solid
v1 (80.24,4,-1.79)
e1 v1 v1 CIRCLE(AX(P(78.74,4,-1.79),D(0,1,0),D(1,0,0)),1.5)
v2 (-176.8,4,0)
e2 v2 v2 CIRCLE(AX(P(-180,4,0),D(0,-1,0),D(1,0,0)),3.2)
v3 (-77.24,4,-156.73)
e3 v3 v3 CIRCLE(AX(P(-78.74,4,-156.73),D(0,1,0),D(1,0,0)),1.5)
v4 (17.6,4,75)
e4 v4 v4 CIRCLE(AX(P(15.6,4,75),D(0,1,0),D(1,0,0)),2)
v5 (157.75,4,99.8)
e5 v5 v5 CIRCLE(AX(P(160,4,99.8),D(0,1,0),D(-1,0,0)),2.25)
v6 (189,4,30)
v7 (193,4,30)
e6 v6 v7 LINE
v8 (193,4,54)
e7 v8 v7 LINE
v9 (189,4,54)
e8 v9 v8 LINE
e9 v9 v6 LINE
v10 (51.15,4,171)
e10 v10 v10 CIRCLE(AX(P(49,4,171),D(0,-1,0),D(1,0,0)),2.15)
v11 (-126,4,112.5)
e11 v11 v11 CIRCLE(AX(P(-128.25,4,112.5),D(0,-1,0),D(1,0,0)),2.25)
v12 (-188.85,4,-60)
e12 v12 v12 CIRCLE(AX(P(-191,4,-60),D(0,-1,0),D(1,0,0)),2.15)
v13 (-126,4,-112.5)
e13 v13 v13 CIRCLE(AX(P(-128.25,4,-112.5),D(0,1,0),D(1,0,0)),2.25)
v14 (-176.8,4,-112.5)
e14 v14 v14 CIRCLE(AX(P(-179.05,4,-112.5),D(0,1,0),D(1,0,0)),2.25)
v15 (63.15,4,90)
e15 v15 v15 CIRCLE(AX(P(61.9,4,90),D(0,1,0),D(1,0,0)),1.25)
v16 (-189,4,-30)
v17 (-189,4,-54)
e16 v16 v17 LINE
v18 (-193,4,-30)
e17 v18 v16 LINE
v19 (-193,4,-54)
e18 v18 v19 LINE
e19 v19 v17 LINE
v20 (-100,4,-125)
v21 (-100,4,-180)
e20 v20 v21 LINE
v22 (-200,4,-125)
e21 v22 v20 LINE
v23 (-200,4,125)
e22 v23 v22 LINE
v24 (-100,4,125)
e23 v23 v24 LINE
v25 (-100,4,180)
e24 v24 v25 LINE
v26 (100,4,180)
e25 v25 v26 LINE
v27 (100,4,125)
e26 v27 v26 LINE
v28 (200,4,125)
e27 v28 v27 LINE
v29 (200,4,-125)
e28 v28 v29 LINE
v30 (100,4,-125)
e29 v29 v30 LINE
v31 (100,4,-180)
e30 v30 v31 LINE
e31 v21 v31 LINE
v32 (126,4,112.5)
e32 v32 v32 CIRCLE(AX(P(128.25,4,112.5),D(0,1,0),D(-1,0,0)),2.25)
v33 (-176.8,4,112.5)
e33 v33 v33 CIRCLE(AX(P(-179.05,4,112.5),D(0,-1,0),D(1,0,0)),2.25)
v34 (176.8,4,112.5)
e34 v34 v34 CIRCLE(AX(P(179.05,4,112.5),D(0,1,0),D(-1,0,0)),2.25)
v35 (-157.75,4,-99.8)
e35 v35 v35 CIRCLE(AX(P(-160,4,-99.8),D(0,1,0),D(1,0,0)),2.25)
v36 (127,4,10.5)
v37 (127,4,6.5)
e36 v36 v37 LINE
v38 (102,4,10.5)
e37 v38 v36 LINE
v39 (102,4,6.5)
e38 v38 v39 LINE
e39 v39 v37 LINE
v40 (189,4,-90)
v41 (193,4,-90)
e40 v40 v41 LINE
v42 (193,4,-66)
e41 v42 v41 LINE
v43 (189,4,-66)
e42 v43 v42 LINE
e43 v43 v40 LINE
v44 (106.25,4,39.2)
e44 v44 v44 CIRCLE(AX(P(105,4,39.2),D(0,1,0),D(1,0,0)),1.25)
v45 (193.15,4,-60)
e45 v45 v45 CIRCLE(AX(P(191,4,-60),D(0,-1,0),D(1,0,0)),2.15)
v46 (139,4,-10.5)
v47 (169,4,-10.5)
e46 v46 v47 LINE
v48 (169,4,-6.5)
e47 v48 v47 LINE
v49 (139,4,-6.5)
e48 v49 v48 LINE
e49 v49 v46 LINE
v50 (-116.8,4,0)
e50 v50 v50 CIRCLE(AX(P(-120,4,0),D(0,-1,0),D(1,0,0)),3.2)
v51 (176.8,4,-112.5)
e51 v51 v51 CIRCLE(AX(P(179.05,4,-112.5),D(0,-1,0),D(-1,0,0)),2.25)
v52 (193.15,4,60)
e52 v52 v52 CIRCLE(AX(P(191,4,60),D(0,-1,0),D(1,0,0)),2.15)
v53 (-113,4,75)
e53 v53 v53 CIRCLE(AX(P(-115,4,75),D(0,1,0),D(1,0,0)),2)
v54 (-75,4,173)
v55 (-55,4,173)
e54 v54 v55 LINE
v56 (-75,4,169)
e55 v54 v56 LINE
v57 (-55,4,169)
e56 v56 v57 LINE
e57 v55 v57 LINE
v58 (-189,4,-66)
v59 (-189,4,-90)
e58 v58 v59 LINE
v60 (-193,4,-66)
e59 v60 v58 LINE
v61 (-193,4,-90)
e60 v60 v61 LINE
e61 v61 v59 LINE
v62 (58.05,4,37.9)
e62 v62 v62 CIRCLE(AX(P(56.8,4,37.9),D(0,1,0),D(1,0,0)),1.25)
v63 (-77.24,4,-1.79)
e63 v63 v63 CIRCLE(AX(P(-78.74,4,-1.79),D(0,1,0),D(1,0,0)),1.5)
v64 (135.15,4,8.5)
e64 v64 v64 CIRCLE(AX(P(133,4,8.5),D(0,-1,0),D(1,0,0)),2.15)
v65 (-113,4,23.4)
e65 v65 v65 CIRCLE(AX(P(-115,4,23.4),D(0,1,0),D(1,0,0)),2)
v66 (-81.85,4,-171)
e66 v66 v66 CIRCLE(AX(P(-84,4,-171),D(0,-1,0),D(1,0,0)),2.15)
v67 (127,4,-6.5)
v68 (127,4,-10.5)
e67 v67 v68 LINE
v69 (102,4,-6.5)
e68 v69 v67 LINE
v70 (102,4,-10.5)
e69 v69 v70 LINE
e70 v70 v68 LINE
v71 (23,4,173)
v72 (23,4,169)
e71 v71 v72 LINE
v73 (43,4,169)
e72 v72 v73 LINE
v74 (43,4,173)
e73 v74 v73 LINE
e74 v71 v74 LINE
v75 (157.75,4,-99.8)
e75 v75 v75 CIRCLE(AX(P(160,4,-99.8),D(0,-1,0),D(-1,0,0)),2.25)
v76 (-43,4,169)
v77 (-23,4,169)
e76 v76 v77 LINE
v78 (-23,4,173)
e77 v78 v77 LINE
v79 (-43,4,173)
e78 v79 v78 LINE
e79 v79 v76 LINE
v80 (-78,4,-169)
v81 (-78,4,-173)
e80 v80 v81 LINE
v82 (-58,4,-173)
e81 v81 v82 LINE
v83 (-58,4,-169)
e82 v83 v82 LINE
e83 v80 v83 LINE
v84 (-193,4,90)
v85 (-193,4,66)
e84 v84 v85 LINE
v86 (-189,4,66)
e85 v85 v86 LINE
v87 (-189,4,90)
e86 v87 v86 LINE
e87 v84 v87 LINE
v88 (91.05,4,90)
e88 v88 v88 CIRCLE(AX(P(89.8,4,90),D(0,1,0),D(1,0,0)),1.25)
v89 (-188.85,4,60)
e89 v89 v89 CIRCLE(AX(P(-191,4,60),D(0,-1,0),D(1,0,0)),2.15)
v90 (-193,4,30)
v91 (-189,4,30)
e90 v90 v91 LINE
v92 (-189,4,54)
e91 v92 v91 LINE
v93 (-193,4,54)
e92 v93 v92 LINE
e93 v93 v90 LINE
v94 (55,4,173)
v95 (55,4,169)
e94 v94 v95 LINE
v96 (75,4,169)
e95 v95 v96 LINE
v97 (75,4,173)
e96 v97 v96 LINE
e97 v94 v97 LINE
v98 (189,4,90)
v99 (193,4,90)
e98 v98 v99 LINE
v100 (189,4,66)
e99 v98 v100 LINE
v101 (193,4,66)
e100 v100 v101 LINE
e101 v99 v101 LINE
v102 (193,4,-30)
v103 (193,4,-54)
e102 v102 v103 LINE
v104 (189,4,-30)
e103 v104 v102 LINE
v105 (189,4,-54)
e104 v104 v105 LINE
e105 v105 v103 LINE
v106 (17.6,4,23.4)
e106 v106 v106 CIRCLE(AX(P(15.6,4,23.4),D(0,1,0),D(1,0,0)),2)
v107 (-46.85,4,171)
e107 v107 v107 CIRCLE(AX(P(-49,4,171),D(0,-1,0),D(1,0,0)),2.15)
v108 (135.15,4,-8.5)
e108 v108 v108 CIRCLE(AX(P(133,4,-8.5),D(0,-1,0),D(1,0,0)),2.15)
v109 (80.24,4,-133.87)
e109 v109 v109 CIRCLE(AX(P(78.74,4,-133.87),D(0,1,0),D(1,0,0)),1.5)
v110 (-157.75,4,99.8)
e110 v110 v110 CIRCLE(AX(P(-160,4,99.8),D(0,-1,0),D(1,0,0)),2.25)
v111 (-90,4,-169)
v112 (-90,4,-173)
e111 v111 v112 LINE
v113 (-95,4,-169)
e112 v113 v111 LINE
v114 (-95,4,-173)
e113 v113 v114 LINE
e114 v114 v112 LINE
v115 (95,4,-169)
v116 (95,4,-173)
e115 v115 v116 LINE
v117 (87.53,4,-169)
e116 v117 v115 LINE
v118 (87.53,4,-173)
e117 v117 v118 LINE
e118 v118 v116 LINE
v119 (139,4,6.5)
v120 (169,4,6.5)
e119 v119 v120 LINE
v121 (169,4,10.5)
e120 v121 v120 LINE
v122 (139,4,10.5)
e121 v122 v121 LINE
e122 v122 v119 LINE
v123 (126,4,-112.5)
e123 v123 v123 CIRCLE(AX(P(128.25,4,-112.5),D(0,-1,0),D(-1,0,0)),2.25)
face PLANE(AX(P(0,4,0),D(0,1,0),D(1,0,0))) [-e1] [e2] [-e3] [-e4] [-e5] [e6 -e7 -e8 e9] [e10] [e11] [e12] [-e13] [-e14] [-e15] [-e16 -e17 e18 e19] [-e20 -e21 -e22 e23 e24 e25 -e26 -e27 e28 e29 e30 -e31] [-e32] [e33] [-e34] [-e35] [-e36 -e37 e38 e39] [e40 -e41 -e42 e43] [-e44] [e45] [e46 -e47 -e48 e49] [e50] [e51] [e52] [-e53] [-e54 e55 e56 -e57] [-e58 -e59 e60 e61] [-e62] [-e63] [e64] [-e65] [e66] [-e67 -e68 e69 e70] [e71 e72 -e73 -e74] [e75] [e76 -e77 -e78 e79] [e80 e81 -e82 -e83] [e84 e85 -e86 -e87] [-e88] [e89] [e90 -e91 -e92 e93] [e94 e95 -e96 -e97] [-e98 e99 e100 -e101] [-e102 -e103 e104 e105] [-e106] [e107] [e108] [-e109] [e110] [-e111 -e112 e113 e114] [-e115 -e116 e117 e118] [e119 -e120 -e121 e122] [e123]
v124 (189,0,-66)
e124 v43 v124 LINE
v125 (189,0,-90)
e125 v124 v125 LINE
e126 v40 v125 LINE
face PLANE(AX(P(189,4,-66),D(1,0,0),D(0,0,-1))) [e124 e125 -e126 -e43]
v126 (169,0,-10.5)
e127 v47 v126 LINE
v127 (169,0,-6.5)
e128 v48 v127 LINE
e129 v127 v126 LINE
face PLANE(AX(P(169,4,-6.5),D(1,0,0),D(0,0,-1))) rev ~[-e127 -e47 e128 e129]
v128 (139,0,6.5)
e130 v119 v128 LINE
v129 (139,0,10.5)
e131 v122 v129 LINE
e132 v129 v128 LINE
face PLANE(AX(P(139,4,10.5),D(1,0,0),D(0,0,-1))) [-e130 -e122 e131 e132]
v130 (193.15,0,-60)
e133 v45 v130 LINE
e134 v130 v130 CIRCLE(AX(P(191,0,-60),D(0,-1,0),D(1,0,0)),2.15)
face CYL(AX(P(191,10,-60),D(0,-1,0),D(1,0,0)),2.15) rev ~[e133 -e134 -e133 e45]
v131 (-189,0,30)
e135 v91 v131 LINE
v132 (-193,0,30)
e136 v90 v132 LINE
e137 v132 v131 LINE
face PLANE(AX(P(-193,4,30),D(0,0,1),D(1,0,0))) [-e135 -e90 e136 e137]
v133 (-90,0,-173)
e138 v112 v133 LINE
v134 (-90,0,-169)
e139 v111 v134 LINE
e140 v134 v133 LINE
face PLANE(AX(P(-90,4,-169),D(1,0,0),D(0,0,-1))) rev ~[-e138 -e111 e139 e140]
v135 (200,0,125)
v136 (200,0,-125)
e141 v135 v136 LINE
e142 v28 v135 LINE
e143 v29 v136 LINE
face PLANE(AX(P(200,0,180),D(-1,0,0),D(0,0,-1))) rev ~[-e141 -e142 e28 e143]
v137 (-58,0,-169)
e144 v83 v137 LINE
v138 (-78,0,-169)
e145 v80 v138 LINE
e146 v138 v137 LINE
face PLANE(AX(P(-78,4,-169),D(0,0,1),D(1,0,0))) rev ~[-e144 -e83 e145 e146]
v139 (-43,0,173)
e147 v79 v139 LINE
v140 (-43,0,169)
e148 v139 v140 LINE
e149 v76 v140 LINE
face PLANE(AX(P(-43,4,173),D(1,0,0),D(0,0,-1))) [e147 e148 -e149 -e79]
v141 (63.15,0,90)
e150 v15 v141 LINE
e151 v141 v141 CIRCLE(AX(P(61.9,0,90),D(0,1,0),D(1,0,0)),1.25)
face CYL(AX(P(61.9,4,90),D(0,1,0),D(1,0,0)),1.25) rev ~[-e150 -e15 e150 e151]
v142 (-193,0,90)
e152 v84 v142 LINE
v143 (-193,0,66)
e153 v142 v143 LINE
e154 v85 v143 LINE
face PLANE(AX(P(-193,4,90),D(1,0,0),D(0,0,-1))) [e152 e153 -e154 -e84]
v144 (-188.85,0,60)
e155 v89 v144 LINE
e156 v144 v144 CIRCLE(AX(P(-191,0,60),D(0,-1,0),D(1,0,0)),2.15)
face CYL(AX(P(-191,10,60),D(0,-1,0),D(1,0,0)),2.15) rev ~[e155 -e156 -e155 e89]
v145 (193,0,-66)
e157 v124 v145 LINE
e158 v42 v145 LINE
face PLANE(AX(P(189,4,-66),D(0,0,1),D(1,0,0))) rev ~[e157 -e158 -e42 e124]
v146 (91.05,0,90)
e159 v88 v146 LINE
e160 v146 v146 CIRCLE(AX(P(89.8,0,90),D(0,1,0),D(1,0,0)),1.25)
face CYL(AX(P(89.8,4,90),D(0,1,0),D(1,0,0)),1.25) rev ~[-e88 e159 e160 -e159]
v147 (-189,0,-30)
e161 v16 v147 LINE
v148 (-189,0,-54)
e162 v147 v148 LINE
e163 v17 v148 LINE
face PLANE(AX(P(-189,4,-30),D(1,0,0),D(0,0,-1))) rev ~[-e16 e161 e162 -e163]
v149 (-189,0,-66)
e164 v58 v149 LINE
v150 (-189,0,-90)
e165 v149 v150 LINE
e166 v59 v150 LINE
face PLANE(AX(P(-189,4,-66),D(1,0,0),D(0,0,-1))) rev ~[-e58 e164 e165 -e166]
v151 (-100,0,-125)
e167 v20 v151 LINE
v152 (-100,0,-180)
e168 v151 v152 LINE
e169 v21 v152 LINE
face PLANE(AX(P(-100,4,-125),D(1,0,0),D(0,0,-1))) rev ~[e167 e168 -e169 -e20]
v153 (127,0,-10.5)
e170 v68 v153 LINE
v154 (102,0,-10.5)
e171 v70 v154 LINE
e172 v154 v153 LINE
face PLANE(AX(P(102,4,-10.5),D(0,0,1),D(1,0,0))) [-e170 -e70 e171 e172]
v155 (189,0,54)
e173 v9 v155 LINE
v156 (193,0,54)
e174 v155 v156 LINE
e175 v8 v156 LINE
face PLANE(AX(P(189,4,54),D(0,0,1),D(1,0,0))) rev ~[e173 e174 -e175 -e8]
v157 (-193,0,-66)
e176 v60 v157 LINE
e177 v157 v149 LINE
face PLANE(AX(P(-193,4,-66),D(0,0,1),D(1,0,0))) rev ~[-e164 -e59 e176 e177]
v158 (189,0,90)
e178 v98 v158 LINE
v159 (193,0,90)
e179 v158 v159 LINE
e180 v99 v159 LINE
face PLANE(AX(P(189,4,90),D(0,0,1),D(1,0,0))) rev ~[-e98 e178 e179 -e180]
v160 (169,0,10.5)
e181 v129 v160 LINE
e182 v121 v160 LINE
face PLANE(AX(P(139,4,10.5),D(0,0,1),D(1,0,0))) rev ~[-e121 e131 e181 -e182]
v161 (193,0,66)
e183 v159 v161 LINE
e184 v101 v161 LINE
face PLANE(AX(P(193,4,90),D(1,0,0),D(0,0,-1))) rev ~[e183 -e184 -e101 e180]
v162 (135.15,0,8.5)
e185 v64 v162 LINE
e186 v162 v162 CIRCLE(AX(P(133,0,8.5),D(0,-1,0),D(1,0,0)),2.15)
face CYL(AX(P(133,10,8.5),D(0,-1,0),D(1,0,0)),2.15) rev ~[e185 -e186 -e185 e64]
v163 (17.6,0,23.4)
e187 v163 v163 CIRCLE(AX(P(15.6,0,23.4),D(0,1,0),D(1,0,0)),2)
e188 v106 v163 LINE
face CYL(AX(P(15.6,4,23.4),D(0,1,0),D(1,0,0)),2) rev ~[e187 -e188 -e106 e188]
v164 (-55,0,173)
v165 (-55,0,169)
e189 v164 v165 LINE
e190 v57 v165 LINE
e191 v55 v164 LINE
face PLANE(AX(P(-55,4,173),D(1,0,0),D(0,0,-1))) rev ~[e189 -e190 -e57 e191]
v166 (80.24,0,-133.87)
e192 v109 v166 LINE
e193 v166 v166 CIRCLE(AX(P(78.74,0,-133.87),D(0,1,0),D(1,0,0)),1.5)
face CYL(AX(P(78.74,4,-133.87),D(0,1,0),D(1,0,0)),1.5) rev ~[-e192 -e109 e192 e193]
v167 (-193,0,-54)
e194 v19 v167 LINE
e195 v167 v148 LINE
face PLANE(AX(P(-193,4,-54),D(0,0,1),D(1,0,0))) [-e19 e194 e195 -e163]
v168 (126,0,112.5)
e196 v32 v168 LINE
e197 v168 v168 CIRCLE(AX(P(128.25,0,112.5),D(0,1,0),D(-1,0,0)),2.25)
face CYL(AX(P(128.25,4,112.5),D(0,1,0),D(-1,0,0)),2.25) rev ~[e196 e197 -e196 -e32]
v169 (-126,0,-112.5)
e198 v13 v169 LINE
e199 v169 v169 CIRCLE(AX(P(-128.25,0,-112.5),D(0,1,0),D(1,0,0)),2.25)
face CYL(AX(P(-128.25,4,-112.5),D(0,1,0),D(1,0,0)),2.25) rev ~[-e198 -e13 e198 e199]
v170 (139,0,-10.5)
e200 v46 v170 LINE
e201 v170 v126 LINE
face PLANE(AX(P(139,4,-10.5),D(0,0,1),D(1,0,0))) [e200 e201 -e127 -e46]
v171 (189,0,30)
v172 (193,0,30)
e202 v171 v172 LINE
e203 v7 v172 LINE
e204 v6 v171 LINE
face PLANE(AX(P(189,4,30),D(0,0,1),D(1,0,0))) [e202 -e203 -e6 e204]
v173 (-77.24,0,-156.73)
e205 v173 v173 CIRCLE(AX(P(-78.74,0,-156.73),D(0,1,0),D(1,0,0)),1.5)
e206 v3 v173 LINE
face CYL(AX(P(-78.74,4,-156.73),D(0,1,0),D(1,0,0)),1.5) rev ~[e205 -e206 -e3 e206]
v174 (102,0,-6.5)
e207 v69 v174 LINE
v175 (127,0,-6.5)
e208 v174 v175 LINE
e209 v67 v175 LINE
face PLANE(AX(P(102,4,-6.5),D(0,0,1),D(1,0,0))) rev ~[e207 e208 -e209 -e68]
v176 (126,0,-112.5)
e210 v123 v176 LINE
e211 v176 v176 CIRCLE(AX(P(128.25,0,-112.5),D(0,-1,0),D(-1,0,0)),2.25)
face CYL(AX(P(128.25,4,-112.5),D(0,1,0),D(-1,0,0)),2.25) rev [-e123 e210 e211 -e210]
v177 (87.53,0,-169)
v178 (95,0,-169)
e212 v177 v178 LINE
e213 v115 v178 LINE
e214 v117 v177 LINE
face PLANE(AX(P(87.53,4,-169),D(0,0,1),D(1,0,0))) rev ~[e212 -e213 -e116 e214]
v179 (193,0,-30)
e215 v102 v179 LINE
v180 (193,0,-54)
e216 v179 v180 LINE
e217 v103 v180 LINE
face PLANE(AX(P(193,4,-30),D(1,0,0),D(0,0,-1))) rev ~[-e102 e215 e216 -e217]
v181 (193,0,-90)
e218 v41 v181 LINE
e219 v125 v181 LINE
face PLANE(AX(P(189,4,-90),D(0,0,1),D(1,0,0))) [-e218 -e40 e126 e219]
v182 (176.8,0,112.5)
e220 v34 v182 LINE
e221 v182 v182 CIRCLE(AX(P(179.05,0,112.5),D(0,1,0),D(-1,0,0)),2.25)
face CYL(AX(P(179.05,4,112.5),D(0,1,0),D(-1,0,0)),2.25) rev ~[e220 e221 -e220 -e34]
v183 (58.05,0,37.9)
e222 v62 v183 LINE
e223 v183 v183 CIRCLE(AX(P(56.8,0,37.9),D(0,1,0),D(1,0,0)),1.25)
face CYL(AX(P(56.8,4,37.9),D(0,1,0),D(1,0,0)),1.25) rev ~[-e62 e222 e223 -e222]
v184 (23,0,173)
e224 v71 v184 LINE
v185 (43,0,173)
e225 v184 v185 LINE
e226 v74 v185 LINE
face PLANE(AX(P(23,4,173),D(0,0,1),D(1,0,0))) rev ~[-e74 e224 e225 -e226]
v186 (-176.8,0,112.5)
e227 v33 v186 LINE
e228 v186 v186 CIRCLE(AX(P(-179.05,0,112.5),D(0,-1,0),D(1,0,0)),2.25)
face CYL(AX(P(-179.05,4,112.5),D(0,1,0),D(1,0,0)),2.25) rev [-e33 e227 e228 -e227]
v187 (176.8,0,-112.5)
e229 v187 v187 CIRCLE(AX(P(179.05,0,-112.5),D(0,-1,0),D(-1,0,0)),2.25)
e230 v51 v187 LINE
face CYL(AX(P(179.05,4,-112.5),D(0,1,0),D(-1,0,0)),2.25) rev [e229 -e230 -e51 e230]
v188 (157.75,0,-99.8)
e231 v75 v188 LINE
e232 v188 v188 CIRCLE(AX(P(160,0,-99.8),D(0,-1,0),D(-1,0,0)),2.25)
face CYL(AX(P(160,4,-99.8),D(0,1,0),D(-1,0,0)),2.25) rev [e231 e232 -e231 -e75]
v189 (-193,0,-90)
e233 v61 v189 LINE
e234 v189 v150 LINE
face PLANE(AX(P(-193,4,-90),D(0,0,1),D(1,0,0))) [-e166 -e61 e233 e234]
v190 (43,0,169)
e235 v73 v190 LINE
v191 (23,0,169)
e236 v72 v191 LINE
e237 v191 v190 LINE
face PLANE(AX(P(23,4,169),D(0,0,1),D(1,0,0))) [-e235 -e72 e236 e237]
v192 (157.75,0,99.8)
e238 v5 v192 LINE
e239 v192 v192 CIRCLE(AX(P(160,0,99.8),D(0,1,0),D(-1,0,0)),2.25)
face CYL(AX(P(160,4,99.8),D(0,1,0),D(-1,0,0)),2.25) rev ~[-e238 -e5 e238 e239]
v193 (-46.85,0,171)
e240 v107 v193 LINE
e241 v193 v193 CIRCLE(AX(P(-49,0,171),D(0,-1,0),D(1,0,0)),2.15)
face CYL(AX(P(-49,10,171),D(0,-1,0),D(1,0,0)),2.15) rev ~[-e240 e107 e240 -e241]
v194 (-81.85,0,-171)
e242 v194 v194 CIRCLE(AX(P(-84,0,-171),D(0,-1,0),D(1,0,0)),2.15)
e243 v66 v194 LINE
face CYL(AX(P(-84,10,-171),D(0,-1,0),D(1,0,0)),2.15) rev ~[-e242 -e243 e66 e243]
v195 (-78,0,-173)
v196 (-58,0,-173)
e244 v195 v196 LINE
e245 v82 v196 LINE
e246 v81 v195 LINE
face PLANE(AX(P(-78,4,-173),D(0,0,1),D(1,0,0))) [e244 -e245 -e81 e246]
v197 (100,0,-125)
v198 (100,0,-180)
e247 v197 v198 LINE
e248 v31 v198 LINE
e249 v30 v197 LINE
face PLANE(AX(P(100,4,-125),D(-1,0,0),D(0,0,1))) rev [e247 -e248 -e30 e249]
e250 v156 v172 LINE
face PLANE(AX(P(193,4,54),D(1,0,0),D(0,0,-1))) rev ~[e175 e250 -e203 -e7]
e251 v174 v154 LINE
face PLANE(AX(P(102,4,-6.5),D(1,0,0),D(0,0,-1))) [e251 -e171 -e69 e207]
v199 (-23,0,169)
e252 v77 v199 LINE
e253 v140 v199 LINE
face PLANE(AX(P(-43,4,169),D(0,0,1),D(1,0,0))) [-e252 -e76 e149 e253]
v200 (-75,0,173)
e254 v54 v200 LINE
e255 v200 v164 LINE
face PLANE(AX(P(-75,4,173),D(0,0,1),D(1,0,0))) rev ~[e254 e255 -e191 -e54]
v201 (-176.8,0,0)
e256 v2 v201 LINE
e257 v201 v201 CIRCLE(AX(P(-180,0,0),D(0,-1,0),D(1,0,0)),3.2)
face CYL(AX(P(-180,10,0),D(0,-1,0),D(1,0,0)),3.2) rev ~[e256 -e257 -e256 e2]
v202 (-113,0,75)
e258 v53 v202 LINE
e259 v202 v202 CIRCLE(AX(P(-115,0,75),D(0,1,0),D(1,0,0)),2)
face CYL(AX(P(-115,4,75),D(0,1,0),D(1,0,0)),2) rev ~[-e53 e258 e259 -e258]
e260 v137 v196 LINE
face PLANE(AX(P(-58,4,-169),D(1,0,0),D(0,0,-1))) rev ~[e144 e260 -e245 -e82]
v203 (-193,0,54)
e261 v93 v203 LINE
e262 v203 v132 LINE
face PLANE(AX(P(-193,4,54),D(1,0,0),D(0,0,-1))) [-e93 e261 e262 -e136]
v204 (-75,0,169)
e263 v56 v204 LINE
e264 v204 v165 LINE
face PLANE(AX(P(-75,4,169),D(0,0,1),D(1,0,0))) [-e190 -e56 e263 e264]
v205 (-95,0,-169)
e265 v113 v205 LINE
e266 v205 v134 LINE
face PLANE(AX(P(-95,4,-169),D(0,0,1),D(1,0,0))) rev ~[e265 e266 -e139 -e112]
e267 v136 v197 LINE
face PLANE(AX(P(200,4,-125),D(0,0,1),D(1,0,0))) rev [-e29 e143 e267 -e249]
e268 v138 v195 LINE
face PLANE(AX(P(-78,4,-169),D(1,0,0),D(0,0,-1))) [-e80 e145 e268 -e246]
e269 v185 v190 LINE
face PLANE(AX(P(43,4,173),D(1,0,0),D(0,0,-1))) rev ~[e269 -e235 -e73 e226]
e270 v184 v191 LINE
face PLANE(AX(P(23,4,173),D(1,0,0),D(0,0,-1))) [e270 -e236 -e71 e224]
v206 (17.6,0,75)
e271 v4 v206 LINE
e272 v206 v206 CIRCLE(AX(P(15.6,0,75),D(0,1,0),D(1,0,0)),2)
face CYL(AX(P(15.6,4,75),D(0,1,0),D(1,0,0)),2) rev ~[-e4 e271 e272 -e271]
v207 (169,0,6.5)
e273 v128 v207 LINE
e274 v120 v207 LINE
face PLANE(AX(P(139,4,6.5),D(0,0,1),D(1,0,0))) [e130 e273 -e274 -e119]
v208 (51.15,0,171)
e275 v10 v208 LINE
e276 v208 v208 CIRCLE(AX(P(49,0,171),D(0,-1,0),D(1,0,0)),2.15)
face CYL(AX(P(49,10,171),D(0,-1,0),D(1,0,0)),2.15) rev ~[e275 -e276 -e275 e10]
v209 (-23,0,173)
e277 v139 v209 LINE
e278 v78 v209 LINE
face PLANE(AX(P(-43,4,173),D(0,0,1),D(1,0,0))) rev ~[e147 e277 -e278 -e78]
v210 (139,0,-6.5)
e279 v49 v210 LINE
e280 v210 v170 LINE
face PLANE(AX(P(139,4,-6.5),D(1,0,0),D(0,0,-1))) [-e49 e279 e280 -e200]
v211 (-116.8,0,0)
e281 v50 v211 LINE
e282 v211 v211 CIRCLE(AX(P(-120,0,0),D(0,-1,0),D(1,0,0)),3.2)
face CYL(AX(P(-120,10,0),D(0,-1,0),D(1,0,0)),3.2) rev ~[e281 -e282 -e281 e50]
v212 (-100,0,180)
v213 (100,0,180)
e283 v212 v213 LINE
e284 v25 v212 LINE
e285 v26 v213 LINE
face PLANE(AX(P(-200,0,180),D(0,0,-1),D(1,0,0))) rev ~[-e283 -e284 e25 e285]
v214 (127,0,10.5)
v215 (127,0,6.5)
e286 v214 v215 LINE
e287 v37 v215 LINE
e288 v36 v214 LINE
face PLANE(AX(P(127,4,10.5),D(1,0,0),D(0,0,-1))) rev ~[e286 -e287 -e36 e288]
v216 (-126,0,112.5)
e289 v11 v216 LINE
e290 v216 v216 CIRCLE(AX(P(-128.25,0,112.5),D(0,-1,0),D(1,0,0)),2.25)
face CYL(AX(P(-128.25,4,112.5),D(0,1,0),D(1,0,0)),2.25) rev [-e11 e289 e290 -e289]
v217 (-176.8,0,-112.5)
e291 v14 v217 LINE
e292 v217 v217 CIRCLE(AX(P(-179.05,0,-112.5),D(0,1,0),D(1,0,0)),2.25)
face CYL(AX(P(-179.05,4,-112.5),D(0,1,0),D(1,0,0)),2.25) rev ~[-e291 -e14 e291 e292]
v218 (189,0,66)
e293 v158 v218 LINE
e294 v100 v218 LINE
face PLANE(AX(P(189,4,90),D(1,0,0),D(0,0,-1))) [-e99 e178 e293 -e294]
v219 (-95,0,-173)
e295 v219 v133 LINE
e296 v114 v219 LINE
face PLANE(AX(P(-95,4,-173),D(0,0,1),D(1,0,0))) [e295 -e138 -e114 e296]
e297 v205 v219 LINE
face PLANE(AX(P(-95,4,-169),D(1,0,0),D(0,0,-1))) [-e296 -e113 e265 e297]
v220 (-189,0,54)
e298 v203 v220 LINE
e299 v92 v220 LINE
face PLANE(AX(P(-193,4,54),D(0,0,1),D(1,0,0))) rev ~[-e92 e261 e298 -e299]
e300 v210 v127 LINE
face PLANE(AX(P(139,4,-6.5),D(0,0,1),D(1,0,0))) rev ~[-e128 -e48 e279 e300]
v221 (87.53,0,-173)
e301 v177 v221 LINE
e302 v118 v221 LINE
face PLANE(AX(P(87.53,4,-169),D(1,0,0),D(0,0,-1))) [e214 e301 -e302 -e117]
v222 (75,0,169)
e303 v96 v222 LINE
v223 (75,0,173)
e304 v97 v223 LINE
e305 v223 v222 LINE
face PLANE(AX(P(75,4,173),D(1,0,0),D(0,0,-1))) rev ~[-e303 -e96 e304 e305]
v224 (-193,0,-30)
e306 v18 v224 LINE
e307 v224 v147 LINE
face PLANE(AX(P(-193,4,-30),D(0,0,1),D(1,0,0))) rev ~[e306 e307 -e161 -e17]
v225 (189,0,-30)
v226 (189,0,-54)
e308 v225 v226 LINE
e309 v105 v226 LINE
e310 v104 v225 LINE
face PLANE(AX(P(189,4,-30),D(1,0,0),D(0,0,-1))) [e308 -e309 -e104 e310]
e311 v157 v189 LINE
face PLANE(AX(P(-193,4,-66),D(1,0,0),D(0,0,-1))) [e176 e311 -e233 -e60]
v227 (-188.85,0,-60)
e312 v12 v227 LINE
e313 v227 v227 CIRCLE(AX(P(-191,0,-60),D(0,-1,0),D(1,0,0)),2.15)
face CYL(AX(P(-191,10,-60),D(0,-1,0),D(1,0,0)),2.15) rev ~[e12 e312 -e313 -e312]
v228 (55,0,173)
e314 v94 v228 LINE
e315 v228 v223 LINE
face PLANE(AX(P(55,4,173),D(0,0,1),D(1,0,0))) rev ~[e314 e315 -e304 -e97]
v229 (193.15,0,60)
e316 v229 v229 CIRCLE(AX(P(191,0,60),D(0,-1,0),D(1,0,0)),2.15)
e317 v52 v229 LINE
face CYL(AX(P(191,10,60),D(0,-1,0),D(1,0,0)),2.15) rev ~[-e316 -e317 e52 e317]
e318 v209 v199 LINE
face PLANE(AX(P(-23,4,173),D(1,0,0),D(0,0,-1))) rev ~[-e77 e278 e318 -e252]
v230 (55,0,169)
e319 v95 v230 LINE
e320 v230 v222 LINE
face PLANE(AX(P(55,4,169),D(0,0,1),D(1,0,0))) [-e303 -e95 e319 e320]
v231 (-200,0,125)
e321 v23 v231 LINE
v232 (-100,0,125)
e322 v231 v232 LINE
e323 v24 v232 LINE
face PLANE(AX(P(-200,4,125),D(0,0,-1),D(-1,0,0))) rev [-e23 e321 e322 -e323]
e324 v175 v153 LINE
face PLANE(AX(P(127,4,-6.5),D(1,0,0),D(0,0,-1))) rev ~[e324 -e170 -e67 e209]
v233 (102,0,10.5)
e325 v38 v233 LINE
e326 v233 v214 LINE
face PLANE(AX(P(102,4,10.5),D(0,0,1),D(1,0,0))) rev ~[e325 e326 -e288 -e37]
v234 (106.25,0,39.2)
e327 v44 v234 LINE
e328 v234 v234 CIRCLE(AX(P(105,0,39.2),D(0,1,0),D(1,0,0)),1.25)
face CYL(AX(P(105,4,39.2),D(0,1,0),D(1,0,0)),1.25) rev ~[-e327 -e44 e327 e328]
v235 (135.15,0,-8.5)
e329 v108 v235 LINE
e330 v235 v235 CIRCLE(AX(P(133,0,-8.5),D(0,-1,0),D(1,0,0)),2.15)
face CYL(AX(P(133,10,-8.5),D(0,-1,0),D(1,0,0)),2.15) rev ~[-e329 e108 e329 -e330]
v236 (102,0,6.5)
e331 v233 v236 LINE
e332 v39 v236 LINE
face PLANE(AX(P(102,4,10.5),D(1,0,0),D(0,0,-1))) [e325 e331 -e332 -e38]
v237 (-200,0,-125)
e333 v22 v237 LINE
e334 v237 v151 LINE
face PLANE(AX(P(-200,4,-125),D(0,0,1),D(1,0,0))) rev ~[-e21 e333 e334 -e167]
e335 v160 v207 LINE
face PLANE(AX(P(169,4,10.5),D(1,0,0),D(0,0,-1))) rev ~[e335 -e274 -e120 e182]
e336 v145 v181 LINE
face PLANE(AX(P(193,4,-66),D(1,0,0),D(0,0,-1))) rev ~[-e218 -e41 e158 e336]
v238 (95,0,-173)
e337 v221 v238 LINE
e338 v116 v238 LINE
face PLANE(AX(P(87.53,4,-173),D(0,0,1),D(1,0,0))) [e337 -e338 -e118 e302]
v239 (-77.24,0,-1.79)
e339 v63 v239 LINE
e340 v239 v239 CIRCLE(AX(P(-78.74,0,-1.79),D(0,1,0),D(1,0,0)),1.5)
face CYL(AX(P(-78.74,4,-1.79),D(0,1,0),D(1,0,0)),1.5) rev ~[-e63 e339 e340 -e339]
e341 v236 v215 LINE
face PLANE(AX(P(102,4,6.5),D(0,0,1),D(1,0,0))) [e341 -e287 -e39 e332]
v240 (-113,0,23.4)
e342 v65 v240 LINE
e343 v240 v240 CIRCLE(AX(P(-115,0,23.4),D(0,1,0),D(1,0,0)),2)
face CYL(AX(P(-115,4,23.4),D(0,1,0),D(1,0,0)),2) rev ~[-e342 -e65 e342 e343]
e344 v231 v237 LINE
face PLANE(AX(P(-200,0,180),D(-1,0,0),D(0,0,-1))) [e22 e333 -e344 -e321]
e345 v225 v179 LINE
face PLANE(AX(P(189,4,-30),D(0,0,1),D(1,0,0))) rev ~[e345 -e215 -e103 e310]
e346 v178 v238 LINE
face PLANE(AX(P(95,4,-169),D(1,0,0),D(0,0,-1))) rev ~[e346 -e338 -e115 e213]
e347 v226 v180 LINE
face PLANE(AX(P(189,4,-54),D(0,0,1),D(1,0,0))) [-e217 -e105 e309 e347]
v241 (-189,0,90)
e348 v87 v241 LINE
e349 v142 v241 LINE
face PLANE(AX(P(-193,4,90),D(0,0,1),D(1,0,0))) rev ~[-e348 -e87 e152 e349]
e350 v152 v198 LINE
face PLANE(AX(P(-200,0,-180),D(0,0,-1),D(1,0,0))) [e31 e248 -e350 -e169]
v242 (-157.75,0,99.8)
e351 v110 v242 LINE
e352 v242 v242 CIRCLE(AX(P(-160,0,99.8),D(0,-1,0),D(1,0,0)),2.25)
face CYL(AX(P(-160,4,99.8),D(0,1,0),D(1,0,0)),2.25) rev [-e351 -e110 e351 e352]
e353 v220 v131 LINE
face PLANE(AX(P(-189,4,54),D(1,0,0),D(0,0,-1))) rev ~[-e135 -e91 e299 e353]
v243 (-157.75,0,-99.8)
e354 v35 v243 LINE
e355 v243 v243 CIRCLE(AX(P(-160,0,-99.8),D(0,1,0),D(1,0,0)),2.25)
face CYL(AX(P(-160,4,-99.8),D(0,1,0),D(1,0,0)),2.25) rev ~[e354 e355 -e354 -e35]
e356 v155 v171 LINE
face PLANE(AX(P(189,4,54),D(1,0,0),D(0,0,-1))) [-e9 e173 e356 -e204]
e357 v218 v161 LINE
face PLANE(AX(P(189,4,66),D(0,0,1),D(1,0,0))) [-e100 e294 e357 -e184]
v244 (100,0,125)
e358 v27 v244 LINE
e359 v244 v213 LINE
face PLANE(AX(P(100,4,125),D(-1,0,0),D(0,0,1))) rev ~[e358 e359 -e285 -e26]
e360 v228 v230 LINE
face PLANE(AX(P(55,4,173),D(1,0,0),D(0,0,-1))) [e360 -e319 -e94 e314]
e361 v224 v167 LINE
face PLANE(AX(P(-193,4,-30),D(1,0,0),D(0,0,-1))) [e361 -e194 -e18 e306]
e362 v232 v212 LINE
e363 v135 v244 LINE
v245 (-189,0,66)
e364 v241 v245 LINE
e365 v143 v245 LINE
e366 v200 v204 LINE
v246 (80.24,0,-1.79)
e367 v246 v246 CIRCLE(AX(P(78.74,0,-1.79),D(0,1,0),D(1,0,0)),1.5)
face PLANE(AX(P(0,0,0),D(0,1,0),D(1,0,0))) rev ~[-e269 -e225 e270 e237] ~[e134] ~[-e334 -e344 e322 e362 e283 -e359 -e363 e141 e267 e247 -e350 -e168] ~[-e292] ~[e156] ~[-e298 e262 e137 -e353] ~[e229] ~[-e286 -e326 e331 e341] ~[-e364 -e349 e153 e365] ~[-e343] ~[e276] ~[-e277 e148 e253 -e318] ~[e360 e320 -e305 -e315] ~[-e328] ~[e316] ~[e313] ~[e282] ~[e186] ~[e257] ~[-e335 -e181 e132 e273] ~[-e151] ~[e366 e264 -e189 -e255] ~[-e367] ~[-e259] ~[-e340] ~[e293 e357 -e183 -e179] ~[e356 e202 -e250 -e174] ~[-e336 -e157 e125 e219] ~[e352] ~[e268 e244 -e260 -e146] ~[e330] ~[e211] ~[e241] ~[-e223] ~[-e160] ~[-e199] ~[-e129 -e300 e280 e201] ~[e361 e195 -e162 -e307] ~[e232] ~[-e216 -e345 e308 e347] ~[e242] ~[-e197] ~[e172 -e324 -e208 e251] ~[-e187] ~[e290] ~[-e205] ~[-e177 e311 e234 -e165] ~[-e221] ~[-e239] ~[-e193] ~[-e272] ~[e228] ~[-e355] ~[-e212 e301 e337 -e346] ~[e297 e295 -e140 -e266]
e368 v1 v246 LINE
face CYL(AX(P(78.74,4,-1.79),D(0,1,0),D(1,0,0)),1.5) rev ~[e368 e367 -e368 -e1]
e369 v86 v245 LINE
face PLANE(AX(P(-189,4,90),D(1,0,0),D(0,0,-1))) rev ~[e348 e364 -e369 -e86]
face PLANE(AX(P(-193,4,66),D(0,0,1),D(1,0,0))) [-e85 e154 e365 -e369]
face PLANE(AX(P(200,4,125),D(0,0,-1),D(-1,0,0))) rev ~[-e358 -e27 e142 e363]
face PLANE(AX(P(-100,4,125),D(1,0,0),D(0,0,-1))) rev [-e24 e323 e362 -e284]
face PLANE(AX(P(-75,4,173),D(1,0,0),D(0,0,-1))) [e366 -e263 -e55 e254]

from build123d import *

# Parameters (mm, degrees)
SKETCH1_W                = 400
SKETCH1_H                = 360
BOSS_EXTRUDE1_DEPTH      = 4
SKETCH2_W                = 100
SKETCH2_H                = 55
CORNER_DEPTH             = 4
SKETCH3_R                = 2.25
MOTOR_MOUNTING_DEPTH     = 4
MIRROR2_COPY_1_SKETCH_W  = 100
MIRROR2_COPY_1_SKETCH_H  = 55
MIRROR2_COPY_1_DEPTH     = 4
MIRROR2_COPY_2_SKETCH_R  = 2.25
MIRROR2_COPY_2_DEPTH     = 4
PC_MOUNTING_REACH        = 6
SKETCH5_R                = 1.5
ARDUINO_MOUNTING_REACH   = 6
SKETCH6_R                = 1.25
DCDC_USB_MOUNTING_REACH  = 6
SKETCH7_R                = 2
SKETCH10_W               = 20
SKETCH10_H               = 4
SKETCH10_W_2             = 4
SKETCH10_H_2             = 24
SKETCH10_W_3             = 5
SKETCH10_W_4             = 7.47
SIDES_MOUNTING_DEPTH     = 5
SKETCH11_W               = 30
SKETCH11_H               = 4
SKETCH11_W_2             = 25
FIN_MOUNTING_DEPTH       = 5
M4_CLEARANCE_HOLE1_D     = 4.3
M4_CLEARANCE_HOLE1_DEPTH = 6
M4_CLEARANCE_HOLE1_TIP   = 1.291850331
M6_CLEARANCE_HOLE1_D     = 6.4
M6_CLEARANCE_HOLE1_DEPTH = 6
M6_CLEARANCE_HOLE1_TIP   = 1.922753981


with BuildPart() as part:
    # Sketch1 → Boss-Extrude1 (new body)
    with BuildSketch(Plane(origin=(0, 0, 0), x_dir=(1, 0, 0), z_dir=(0, 1, 0))):
        Rectangle(SKETCH1_W, SKETCH1_H)
    extrude(amount=BOSS_EXTRUDE1_DEPTH)

    # Sketch2 → Corner (cut)
    with BuildSketch(Plane(origin=(0, 4, 0), x_dir=(1, 0, 0), z_dir=(0, 1, 0))):
        with Locations((-150, 152.5)):
            Rectangle(SKETCH2_W, SKETCH2_H)
    corner = extrude(amount=-CORNER_DEPTH, mode=Mode.SUBTRACT)

    # Sketch3 → Motor mounting (cut)
    with BuildSketch(Plane(origin=(0, 4, 0), x_dir=(1, 0, 0), z_dir=(0, 1, 0))):
        with Locations((-179.05, 112.5)):
            Circle(SKETCH3_R)
        with Locations((-128.25, 112.5)):
            Circle(SKETCH3_R)
        with Locations((-160, 99.8)):
            Circle(SKETCH3_R)
    motor_mounting = extrude(amount=-MOTOR_MOUNTING_DEPTH, mode=Mode.SUBTRACT)

    # Mirror1: Corner, Motor mounting across plane
    add(corner.mirror(Plane.XY), mode=Mode.SUBTRACT)
    add(motor_mounting.mirror(Plane.XY), mode=Mode.SUBTRACT)

    # Mirror2: Corner, Motor mounting across plane
    add(corner.mirror(Plane(origin=(0, 0, 0), x_dir=(0, 0, 1), z_dir=(1, 0, 0))), mode=Mode.SUBTRACT)
    add(motor_mounting.mirror(Plane(origin=(0, 0, 0), x_dir=(0, 0, 1), z_dir=(1, 0, 0))), mode=Mode.SUBTRACT)

    # Mirror2 copy 1 sketch → Mirror2 copy 1 (cut)
    with BuildSketch(Plane(origin=(0, 4, 0), x_dir=(-1, 0, 0), z_dir=(0, 1, 0))):
        with Locations((-150, 152.5)):
            Rectangle(MIRROR2_COPY_1_SKETCH_W, MIRROR2_COPY_1_SKETCH_H)
    extrude(amount=-MIRROR2_COPY_1_DEPTH, mode=Mode.SUBTRACT)

    # Mirror2 copy 2 sketch → Mirror2 copy 2 (cut)
    with BuildSketch(Plane(origin=(0, 4, 0), x_dir=(-1, 0, 0), z_dir=(0, 1, 0))):
        with Locations((-179.05, 112.5)):
            Circle(MIRROR2_COPY_2_SKETCH_R)
        with Locations((-128.25, 112.5)):
            Circle(MIRROR2_COPY_2_SKETCH_R)
        with Locations((-160, 99.8)):
            Circle(MIRROR2_COPY_2_SKETCH_R)
    extrude(amount=-MIRROR2_COPY_2_DEPTH, mode=Mode.SUBTRACT)

    # Sketch5 → PC mounting (cut, up to next)
    with BuildSketch(Plane(origin=(0, 4, 0), x_dir=(1, 0, 0), z_dir=(0, 1, 0)), mode=Mode.PRIVATE) as pc_mounting_sk1:
        with Locations((-78.74, 156.73)):
            Circle(SKETCH5_R)
    pc_mounting_tool1 = extrude(pc_mounting_sk1.sketch, amount=-PC_MOUNTING_REACH, mode=Mode.PRIVATE) & part.part
    add(pc_mounting_tool1.solids().sort_by_distance((-78.74, 4, -156.73))[0], mode=Mode.SUBTRACT)
    # Sketch5 → PC mounting (cut, up to next)
    with BuildSketch(Plane(origin=(0, 4, 0), x_dir=(1, 0, 0), z_dir=(0, 1, 0)), mode=Mode.PRIVATE) as pc_mounting_sk2:
        with Locations((78.74, 133.87)):
            Circle(SKETCH5_R)
    pc_mounting_tool2 = extrude(pc_mounting_sk2.sketch, amount=-PC_MOUNTING_REACH, mode=Mode.PRIVATE) & part.part
    add(pc_mounting_tool2.solids().sort_by_distance((78.74, 4, -133.87))[0], mode=Mode.SUBTRACT)
    # Sketch5 → PC mounting (cut, up to next)
    with BuildSketch(Plane(origin=(0, 4, 0), x_dir=(1, 0, 0), z_dir=(0, 1, 0)), mode=Mode.PRIVATE) as pc_mounting_sk3:
        with Locations((-78.74, 1.79)):
            Circle(SKETCH5_R)
    pc_mounting_tool3 = extrude(pc_mounting_sk3.sketch, amount=-PC_MOUNTING_REACH, mode=Mode.PRIVATE) & part.part
    add(pc_mounting_tool3.solids().sort_by_distance((-78.74, 4, -1.79))[0], mode=Mode.SUBTRACT)
    # Sketch5 → PC mounting (cut, up to next)
    with BuildSketch(Plane(origin=(0, 4, 0), x_dir=(1, 0, 0), z_dir=(0, 1, 0)), mode=Mode.PRIVATE) as pc_mounting_sk4:
        with Locations((78.74, 1.79)):
            Circle(SKETCH5_R)
    pc_mounting_tool4 = extrude(pc_mounting_sk4.sketch, amount=-PC_MOUNTING_REACH, mode=Mode.PRIVATE) & part.part
    add(pc_mounting_tool4.solids().sort_by_distance((78.74, 4, -1.79))[0], mode=Mode.SUBTRACT)

    # Sketch6 → Arduino mounting (cut, up to next)
    with BuildSketch(Plane(origin=(0, 4, 0), x_dir=(1, 0, 0), z_dir=(0, 1, 0)), mode=Mode.PRIVATE) as arduino_mounting_sk1:
        with Locations((56.8, -37.9)):
            Circle(SKETCH6_R)
    arduino_mounting_tool1 = extrude(arduino_mounting_sk1.sketch, amount=-ARDUINO_MOUNTING_REACH, mode=Mode.PRIVATE) & part.part
    add(arduino_mounting_tool1.solids().sort_by_distance((56.8, 4, 37.9))[0], mode=Mode.SUBTRACT)
    # Sketch6 → Arduino mounting (cut, up to next)
    with BuildSketch(Plane(origin=(0, 4, 0), x_dir=(1, 0, 0), z_dir=(0, 1, 0)), mode=Mode.PRIVATE) as arduino_mounting_sk2:
        with Locations((105, -39.2)):
            Circle(SKETCH6_R)
    arduino_mounting_tool2 = extrude(arduino_mounting_sk2.sketch, amount=-ARDUINO_MOUNTING_REACH, mode=Mode.PRIVATE) & part.part
    add(arduino_mounting_tool2.solids().sort_by_distance((105, 4, 39.2))[0], mode=Mode.SUBTRACT)
    # Sketch6 → Arduino mounting (cut, up to next)
    with BuildSketch(Plane(origin=(0, 4, 0), x_dir=(1, 0, 0), z_dir=(0, 1, 0)), mode=Mode.PRIVATE) as arduino_mounting_sk3:
        with Locations((89.8, -90)):
            Circle(SKETCH6_R)
    arduino_mounting_tool3 = extrude(arduino_mounting_sk3.sketch, amount=-ARDUINO_MOUNTING_REACH, mode=Mode.PRIVATE) & part.part
    add(arduino_mounting_tool3.solids().sort_by_distance((89.8, 4, 90))[0], mode=Mode.SUBTRACT)
    # Sketch6 → Arduino mounting (cut, up to next)
    with BuildSketch(Plane(origin=(0, 4, 0), x_dir=(1, 0, 0), z_dir=(0, 1, 0)), mode=Mode.PRIVATE) as arduino_mounting_sk4:
        with Locations((61.9, -90)):
            Circle(SKETCH6_R)
    arduino_mounting_tool4 = extrude(arduino_mounting_sk4.sketch, amount=-ARDUINO_MOUNTING_REACH, mode=Mode.PRIVATE) & part.part
    add(arduino_mounting_tool4.solids().sort_by_distance((61.9, 4, 90))[0], mode=Mode.SUBTRACT)

    # Sketch7 → DCDC-USB mounting (cut, up to next)
    with BuildSketch(Plane(origin=(0, 4, 0), x_dir=(1, 0, 0), z_dir=(0, 1, 0)), mode=Mode.PRIVATE) as dcdc_usb_mounting_sk1:
        with Locations((-115, -75)):
            Circle(SKETCH7_R)
    dcdc_usb_mounting_tool1 = extrude(dcdc_usb_mounting_sk1.sketch, amount=-DCDC_USB_MOUNTING_REACH, mode=Mode.PRIVATE) & part.part
    add(dcdc_usb_mounting_tool1.solids().sort_by_distance((-115, 4, 75))[0], mode=Mode.SUBTRACT)
    # Sketch7 → DCDC-USB mounting (cut, up to next)
    with BuildSketch(Plane(origin=(0, 4, 0), x_dir=(1, 0, 0), z_dir=(0, 1, 0)), mode=Mode.PRIVATE) as dcdc_usb_mounting_sk2:
        with Locations((15.6, -75)):
            Circle(SKETCH7_R)
    dcdc_usb_mounting_tool2 = extrude(dcdc_usb_mounting_sk2.sketch, amount=-DCDC_USB_MOUNTING_REACH, mode=Mode.PRIVATE) & part.part
    add(dcdc_usb_mounting_tool2.solids().sort_by_distance((15.6, 4, 75))[0], mode=Mode.SUBTRACT)
    # Sketch7 → DCDC-USB mounting (cut, up to next)
    with BuildSketch(Plane(origin=(0, 4, 0), x_dir=(1, 0, 0), z_dir=(0, 1, 0)), mode=Mode.PRIVATE) as dcdc_usb_mounting_sk3:
        with Locations((-115, -23.4)):
            Circle(SKETCH7_R)
    dcdc_usb_mounting_tool3 = extrude(dcdc_usb_mounting_sk3.sketch, amount=-DCDC_USB_MOUNTING_REACH, mode=Mode.PRIVATE) & part.part
    add(dcdc_usb_mounting_tool3.solids().sort_by_distance((-115, 4, 23.4))[0], mode=Mode.SUBTRACT)
    # Sketch7 → DCDC-USB mounting (cut, up to next)
    with BuildSketch(Plane(origin=(0, 4, 0), x_dir=(1, 0, 0), z_dir=(0, 1, 0)), mode=Mode.PRIVATE) as dcdc_usb_mounting_sk4:
        with Locations((15.6, -23.4)):
            Circle(SKETCH7_R)
    dcdc_usb_mounting_tool4 = extrude(dcdc_usb_mounting_sk4.sketch, amount=-DCDC_USB_MOUNTING_REACH, mode=Mode.PRIVATE) & part.part
    add(dcdc_usb_mounting_tool4.solids().sort_by_distance((15.6, 4, 23.4))[0], mode=Mode.SUBTRACT)

    # Sketch10 → Sides mounting (cut, through all)
    with BuildSketch(Plane(origin=(0, 4, 0), x_dir=(1, 0, 0), z_dir=(0, 1, 0))):
        with Locations((-68, 171)):
            Rectangle(SKETCH10_W, SKETCH10_H)
        with Locations((-191, 78)):
            Rectangle(SKETCH10_W_2, SKETCH10_H_2)
        with Locations((-191, -42)):
            Rectangle(SKETCH10_W_2, SKETCH10_H_2)
        with Locations((-191, -78)):
            Rectangle(SKETCH10_W_2, SKETCH10_H_2)
        with Locations((-191, 42)):
            Rectangle(SKETCH10_W_2, SKETCH10_H_2)
        with Locations((191, 78)):
            Rectangle(SKETCH10_W_2, SKETCH10_H_2)
        with Locations((191, 42)):
            Rectangle(SKETCH10_W_2, SKETCH10_H_2)
        with Locations((191, -42)):
            Rectangle(SKETCH10_W_2, SKETCH10_H_2)
        with Locations((191, -78)):
            Rectangle(SKETCH10_W_2, SKETCH10_H_2)
        with Locations((-65, -171)):
            Rectangle(SKETCH10_W, SKETCH10_H)
        with Locations((-33, -171)):
            Rectangle(SKETCH10_W, SKETCH10_H)
        with Locations((33, -171)):
            Rectangle(SKETCH10_W, SKETCH10_H)
        with Locations((65, -171)):
            Rectangle(SKETCH10_W, SKETCH10_H)
        with Locations((-92.5, 171)):
            Rectangle(SKETCH10_W_3, SKETCH10_H)
        with Locations((91.265, 171)):
            Rectangle(SKETCH10_W_4, SKETCH10_H)
    extrude(amount=-SIDES_MOUNTING_DEPTH, mode=Mode.SUBTRACT)

    # Sketch11 → fin mounting (cut, through all)
    with BuildSketch(Plane(origin=(0, 4, 0), x_dir=(1, 0, 0), z_dir=(0, 1, 0))):
        with Locations((154, 8.5)):
            Rectangle(SKETCH11_W, SKETCH11_H)
        with Locations((114.5, 8.5)):
            Rectangle(SKETCH11_W_2, SKETCH11_H)
        with Locations((114.5, -8.5)):
            Rectangle(SKETCH11_W_2, SKETCH11_H)
        with Locations((154, -8.5)):
            Rectangle(SKETCH11_W, SKETCH11_H)
    extrude(amount=-FIN_MOUNTING_DEPTH, mode=Mode.SUBTRACT)

    # M4 Clearance Hole1
    with Locations(Plane(origin=(0, 4, 0), x_dir=(-1, 0, 0), z_dir=(0, 1, 0))):
        with Locations((49, 171), (-49, 171), (191, 60), (191, -60), (-133, -8.5), (-191, -60), (-191, 60), (84, -171), (-133, 8.5)):
            Hole(M4_CLEARANCE_HOLE1_D / 2, depth=M4_CLEARANCE_HOLE1_DEPTH)
            with Locations((0, 0, -(M4_CLEARANCE_HOLE1_DEPTH + M4_CLEARANCE_HOLE1_TIP / 2))):  # 118° drill point
                Cone(0, M4_CLEARANCE_HOLE1_D / 2, M4_CLEARANCE_HOLE1_TIP, mode=Mode.SUBTRACT)

    # M6 Clearance Hole1
    with Locations(Plane(origin=(0, 4, 0), x_dir=(-1, 0, 0), z_dir=(0, 1, 0))):
        with Locations((180, 0), (120, 0)):
            Hole(M6_CLEARANCE_HOLE1_D / 2, depth=M6_CLEARANCE_HOLE1_DEPTH)
            with Locations((0, 0, -(M6_CLEARANCE_HOLE1_DEPTH + M6_CLEARANCE_HOLE1_TIP / 2))):  # 118° drill point
                Cone(0, M6_CLEARANCE_HOLE1_D / 2, M6_CLEARANCE_HOLE1_TIP, mode=Mode.SUBTRACT)


solid = part.part
